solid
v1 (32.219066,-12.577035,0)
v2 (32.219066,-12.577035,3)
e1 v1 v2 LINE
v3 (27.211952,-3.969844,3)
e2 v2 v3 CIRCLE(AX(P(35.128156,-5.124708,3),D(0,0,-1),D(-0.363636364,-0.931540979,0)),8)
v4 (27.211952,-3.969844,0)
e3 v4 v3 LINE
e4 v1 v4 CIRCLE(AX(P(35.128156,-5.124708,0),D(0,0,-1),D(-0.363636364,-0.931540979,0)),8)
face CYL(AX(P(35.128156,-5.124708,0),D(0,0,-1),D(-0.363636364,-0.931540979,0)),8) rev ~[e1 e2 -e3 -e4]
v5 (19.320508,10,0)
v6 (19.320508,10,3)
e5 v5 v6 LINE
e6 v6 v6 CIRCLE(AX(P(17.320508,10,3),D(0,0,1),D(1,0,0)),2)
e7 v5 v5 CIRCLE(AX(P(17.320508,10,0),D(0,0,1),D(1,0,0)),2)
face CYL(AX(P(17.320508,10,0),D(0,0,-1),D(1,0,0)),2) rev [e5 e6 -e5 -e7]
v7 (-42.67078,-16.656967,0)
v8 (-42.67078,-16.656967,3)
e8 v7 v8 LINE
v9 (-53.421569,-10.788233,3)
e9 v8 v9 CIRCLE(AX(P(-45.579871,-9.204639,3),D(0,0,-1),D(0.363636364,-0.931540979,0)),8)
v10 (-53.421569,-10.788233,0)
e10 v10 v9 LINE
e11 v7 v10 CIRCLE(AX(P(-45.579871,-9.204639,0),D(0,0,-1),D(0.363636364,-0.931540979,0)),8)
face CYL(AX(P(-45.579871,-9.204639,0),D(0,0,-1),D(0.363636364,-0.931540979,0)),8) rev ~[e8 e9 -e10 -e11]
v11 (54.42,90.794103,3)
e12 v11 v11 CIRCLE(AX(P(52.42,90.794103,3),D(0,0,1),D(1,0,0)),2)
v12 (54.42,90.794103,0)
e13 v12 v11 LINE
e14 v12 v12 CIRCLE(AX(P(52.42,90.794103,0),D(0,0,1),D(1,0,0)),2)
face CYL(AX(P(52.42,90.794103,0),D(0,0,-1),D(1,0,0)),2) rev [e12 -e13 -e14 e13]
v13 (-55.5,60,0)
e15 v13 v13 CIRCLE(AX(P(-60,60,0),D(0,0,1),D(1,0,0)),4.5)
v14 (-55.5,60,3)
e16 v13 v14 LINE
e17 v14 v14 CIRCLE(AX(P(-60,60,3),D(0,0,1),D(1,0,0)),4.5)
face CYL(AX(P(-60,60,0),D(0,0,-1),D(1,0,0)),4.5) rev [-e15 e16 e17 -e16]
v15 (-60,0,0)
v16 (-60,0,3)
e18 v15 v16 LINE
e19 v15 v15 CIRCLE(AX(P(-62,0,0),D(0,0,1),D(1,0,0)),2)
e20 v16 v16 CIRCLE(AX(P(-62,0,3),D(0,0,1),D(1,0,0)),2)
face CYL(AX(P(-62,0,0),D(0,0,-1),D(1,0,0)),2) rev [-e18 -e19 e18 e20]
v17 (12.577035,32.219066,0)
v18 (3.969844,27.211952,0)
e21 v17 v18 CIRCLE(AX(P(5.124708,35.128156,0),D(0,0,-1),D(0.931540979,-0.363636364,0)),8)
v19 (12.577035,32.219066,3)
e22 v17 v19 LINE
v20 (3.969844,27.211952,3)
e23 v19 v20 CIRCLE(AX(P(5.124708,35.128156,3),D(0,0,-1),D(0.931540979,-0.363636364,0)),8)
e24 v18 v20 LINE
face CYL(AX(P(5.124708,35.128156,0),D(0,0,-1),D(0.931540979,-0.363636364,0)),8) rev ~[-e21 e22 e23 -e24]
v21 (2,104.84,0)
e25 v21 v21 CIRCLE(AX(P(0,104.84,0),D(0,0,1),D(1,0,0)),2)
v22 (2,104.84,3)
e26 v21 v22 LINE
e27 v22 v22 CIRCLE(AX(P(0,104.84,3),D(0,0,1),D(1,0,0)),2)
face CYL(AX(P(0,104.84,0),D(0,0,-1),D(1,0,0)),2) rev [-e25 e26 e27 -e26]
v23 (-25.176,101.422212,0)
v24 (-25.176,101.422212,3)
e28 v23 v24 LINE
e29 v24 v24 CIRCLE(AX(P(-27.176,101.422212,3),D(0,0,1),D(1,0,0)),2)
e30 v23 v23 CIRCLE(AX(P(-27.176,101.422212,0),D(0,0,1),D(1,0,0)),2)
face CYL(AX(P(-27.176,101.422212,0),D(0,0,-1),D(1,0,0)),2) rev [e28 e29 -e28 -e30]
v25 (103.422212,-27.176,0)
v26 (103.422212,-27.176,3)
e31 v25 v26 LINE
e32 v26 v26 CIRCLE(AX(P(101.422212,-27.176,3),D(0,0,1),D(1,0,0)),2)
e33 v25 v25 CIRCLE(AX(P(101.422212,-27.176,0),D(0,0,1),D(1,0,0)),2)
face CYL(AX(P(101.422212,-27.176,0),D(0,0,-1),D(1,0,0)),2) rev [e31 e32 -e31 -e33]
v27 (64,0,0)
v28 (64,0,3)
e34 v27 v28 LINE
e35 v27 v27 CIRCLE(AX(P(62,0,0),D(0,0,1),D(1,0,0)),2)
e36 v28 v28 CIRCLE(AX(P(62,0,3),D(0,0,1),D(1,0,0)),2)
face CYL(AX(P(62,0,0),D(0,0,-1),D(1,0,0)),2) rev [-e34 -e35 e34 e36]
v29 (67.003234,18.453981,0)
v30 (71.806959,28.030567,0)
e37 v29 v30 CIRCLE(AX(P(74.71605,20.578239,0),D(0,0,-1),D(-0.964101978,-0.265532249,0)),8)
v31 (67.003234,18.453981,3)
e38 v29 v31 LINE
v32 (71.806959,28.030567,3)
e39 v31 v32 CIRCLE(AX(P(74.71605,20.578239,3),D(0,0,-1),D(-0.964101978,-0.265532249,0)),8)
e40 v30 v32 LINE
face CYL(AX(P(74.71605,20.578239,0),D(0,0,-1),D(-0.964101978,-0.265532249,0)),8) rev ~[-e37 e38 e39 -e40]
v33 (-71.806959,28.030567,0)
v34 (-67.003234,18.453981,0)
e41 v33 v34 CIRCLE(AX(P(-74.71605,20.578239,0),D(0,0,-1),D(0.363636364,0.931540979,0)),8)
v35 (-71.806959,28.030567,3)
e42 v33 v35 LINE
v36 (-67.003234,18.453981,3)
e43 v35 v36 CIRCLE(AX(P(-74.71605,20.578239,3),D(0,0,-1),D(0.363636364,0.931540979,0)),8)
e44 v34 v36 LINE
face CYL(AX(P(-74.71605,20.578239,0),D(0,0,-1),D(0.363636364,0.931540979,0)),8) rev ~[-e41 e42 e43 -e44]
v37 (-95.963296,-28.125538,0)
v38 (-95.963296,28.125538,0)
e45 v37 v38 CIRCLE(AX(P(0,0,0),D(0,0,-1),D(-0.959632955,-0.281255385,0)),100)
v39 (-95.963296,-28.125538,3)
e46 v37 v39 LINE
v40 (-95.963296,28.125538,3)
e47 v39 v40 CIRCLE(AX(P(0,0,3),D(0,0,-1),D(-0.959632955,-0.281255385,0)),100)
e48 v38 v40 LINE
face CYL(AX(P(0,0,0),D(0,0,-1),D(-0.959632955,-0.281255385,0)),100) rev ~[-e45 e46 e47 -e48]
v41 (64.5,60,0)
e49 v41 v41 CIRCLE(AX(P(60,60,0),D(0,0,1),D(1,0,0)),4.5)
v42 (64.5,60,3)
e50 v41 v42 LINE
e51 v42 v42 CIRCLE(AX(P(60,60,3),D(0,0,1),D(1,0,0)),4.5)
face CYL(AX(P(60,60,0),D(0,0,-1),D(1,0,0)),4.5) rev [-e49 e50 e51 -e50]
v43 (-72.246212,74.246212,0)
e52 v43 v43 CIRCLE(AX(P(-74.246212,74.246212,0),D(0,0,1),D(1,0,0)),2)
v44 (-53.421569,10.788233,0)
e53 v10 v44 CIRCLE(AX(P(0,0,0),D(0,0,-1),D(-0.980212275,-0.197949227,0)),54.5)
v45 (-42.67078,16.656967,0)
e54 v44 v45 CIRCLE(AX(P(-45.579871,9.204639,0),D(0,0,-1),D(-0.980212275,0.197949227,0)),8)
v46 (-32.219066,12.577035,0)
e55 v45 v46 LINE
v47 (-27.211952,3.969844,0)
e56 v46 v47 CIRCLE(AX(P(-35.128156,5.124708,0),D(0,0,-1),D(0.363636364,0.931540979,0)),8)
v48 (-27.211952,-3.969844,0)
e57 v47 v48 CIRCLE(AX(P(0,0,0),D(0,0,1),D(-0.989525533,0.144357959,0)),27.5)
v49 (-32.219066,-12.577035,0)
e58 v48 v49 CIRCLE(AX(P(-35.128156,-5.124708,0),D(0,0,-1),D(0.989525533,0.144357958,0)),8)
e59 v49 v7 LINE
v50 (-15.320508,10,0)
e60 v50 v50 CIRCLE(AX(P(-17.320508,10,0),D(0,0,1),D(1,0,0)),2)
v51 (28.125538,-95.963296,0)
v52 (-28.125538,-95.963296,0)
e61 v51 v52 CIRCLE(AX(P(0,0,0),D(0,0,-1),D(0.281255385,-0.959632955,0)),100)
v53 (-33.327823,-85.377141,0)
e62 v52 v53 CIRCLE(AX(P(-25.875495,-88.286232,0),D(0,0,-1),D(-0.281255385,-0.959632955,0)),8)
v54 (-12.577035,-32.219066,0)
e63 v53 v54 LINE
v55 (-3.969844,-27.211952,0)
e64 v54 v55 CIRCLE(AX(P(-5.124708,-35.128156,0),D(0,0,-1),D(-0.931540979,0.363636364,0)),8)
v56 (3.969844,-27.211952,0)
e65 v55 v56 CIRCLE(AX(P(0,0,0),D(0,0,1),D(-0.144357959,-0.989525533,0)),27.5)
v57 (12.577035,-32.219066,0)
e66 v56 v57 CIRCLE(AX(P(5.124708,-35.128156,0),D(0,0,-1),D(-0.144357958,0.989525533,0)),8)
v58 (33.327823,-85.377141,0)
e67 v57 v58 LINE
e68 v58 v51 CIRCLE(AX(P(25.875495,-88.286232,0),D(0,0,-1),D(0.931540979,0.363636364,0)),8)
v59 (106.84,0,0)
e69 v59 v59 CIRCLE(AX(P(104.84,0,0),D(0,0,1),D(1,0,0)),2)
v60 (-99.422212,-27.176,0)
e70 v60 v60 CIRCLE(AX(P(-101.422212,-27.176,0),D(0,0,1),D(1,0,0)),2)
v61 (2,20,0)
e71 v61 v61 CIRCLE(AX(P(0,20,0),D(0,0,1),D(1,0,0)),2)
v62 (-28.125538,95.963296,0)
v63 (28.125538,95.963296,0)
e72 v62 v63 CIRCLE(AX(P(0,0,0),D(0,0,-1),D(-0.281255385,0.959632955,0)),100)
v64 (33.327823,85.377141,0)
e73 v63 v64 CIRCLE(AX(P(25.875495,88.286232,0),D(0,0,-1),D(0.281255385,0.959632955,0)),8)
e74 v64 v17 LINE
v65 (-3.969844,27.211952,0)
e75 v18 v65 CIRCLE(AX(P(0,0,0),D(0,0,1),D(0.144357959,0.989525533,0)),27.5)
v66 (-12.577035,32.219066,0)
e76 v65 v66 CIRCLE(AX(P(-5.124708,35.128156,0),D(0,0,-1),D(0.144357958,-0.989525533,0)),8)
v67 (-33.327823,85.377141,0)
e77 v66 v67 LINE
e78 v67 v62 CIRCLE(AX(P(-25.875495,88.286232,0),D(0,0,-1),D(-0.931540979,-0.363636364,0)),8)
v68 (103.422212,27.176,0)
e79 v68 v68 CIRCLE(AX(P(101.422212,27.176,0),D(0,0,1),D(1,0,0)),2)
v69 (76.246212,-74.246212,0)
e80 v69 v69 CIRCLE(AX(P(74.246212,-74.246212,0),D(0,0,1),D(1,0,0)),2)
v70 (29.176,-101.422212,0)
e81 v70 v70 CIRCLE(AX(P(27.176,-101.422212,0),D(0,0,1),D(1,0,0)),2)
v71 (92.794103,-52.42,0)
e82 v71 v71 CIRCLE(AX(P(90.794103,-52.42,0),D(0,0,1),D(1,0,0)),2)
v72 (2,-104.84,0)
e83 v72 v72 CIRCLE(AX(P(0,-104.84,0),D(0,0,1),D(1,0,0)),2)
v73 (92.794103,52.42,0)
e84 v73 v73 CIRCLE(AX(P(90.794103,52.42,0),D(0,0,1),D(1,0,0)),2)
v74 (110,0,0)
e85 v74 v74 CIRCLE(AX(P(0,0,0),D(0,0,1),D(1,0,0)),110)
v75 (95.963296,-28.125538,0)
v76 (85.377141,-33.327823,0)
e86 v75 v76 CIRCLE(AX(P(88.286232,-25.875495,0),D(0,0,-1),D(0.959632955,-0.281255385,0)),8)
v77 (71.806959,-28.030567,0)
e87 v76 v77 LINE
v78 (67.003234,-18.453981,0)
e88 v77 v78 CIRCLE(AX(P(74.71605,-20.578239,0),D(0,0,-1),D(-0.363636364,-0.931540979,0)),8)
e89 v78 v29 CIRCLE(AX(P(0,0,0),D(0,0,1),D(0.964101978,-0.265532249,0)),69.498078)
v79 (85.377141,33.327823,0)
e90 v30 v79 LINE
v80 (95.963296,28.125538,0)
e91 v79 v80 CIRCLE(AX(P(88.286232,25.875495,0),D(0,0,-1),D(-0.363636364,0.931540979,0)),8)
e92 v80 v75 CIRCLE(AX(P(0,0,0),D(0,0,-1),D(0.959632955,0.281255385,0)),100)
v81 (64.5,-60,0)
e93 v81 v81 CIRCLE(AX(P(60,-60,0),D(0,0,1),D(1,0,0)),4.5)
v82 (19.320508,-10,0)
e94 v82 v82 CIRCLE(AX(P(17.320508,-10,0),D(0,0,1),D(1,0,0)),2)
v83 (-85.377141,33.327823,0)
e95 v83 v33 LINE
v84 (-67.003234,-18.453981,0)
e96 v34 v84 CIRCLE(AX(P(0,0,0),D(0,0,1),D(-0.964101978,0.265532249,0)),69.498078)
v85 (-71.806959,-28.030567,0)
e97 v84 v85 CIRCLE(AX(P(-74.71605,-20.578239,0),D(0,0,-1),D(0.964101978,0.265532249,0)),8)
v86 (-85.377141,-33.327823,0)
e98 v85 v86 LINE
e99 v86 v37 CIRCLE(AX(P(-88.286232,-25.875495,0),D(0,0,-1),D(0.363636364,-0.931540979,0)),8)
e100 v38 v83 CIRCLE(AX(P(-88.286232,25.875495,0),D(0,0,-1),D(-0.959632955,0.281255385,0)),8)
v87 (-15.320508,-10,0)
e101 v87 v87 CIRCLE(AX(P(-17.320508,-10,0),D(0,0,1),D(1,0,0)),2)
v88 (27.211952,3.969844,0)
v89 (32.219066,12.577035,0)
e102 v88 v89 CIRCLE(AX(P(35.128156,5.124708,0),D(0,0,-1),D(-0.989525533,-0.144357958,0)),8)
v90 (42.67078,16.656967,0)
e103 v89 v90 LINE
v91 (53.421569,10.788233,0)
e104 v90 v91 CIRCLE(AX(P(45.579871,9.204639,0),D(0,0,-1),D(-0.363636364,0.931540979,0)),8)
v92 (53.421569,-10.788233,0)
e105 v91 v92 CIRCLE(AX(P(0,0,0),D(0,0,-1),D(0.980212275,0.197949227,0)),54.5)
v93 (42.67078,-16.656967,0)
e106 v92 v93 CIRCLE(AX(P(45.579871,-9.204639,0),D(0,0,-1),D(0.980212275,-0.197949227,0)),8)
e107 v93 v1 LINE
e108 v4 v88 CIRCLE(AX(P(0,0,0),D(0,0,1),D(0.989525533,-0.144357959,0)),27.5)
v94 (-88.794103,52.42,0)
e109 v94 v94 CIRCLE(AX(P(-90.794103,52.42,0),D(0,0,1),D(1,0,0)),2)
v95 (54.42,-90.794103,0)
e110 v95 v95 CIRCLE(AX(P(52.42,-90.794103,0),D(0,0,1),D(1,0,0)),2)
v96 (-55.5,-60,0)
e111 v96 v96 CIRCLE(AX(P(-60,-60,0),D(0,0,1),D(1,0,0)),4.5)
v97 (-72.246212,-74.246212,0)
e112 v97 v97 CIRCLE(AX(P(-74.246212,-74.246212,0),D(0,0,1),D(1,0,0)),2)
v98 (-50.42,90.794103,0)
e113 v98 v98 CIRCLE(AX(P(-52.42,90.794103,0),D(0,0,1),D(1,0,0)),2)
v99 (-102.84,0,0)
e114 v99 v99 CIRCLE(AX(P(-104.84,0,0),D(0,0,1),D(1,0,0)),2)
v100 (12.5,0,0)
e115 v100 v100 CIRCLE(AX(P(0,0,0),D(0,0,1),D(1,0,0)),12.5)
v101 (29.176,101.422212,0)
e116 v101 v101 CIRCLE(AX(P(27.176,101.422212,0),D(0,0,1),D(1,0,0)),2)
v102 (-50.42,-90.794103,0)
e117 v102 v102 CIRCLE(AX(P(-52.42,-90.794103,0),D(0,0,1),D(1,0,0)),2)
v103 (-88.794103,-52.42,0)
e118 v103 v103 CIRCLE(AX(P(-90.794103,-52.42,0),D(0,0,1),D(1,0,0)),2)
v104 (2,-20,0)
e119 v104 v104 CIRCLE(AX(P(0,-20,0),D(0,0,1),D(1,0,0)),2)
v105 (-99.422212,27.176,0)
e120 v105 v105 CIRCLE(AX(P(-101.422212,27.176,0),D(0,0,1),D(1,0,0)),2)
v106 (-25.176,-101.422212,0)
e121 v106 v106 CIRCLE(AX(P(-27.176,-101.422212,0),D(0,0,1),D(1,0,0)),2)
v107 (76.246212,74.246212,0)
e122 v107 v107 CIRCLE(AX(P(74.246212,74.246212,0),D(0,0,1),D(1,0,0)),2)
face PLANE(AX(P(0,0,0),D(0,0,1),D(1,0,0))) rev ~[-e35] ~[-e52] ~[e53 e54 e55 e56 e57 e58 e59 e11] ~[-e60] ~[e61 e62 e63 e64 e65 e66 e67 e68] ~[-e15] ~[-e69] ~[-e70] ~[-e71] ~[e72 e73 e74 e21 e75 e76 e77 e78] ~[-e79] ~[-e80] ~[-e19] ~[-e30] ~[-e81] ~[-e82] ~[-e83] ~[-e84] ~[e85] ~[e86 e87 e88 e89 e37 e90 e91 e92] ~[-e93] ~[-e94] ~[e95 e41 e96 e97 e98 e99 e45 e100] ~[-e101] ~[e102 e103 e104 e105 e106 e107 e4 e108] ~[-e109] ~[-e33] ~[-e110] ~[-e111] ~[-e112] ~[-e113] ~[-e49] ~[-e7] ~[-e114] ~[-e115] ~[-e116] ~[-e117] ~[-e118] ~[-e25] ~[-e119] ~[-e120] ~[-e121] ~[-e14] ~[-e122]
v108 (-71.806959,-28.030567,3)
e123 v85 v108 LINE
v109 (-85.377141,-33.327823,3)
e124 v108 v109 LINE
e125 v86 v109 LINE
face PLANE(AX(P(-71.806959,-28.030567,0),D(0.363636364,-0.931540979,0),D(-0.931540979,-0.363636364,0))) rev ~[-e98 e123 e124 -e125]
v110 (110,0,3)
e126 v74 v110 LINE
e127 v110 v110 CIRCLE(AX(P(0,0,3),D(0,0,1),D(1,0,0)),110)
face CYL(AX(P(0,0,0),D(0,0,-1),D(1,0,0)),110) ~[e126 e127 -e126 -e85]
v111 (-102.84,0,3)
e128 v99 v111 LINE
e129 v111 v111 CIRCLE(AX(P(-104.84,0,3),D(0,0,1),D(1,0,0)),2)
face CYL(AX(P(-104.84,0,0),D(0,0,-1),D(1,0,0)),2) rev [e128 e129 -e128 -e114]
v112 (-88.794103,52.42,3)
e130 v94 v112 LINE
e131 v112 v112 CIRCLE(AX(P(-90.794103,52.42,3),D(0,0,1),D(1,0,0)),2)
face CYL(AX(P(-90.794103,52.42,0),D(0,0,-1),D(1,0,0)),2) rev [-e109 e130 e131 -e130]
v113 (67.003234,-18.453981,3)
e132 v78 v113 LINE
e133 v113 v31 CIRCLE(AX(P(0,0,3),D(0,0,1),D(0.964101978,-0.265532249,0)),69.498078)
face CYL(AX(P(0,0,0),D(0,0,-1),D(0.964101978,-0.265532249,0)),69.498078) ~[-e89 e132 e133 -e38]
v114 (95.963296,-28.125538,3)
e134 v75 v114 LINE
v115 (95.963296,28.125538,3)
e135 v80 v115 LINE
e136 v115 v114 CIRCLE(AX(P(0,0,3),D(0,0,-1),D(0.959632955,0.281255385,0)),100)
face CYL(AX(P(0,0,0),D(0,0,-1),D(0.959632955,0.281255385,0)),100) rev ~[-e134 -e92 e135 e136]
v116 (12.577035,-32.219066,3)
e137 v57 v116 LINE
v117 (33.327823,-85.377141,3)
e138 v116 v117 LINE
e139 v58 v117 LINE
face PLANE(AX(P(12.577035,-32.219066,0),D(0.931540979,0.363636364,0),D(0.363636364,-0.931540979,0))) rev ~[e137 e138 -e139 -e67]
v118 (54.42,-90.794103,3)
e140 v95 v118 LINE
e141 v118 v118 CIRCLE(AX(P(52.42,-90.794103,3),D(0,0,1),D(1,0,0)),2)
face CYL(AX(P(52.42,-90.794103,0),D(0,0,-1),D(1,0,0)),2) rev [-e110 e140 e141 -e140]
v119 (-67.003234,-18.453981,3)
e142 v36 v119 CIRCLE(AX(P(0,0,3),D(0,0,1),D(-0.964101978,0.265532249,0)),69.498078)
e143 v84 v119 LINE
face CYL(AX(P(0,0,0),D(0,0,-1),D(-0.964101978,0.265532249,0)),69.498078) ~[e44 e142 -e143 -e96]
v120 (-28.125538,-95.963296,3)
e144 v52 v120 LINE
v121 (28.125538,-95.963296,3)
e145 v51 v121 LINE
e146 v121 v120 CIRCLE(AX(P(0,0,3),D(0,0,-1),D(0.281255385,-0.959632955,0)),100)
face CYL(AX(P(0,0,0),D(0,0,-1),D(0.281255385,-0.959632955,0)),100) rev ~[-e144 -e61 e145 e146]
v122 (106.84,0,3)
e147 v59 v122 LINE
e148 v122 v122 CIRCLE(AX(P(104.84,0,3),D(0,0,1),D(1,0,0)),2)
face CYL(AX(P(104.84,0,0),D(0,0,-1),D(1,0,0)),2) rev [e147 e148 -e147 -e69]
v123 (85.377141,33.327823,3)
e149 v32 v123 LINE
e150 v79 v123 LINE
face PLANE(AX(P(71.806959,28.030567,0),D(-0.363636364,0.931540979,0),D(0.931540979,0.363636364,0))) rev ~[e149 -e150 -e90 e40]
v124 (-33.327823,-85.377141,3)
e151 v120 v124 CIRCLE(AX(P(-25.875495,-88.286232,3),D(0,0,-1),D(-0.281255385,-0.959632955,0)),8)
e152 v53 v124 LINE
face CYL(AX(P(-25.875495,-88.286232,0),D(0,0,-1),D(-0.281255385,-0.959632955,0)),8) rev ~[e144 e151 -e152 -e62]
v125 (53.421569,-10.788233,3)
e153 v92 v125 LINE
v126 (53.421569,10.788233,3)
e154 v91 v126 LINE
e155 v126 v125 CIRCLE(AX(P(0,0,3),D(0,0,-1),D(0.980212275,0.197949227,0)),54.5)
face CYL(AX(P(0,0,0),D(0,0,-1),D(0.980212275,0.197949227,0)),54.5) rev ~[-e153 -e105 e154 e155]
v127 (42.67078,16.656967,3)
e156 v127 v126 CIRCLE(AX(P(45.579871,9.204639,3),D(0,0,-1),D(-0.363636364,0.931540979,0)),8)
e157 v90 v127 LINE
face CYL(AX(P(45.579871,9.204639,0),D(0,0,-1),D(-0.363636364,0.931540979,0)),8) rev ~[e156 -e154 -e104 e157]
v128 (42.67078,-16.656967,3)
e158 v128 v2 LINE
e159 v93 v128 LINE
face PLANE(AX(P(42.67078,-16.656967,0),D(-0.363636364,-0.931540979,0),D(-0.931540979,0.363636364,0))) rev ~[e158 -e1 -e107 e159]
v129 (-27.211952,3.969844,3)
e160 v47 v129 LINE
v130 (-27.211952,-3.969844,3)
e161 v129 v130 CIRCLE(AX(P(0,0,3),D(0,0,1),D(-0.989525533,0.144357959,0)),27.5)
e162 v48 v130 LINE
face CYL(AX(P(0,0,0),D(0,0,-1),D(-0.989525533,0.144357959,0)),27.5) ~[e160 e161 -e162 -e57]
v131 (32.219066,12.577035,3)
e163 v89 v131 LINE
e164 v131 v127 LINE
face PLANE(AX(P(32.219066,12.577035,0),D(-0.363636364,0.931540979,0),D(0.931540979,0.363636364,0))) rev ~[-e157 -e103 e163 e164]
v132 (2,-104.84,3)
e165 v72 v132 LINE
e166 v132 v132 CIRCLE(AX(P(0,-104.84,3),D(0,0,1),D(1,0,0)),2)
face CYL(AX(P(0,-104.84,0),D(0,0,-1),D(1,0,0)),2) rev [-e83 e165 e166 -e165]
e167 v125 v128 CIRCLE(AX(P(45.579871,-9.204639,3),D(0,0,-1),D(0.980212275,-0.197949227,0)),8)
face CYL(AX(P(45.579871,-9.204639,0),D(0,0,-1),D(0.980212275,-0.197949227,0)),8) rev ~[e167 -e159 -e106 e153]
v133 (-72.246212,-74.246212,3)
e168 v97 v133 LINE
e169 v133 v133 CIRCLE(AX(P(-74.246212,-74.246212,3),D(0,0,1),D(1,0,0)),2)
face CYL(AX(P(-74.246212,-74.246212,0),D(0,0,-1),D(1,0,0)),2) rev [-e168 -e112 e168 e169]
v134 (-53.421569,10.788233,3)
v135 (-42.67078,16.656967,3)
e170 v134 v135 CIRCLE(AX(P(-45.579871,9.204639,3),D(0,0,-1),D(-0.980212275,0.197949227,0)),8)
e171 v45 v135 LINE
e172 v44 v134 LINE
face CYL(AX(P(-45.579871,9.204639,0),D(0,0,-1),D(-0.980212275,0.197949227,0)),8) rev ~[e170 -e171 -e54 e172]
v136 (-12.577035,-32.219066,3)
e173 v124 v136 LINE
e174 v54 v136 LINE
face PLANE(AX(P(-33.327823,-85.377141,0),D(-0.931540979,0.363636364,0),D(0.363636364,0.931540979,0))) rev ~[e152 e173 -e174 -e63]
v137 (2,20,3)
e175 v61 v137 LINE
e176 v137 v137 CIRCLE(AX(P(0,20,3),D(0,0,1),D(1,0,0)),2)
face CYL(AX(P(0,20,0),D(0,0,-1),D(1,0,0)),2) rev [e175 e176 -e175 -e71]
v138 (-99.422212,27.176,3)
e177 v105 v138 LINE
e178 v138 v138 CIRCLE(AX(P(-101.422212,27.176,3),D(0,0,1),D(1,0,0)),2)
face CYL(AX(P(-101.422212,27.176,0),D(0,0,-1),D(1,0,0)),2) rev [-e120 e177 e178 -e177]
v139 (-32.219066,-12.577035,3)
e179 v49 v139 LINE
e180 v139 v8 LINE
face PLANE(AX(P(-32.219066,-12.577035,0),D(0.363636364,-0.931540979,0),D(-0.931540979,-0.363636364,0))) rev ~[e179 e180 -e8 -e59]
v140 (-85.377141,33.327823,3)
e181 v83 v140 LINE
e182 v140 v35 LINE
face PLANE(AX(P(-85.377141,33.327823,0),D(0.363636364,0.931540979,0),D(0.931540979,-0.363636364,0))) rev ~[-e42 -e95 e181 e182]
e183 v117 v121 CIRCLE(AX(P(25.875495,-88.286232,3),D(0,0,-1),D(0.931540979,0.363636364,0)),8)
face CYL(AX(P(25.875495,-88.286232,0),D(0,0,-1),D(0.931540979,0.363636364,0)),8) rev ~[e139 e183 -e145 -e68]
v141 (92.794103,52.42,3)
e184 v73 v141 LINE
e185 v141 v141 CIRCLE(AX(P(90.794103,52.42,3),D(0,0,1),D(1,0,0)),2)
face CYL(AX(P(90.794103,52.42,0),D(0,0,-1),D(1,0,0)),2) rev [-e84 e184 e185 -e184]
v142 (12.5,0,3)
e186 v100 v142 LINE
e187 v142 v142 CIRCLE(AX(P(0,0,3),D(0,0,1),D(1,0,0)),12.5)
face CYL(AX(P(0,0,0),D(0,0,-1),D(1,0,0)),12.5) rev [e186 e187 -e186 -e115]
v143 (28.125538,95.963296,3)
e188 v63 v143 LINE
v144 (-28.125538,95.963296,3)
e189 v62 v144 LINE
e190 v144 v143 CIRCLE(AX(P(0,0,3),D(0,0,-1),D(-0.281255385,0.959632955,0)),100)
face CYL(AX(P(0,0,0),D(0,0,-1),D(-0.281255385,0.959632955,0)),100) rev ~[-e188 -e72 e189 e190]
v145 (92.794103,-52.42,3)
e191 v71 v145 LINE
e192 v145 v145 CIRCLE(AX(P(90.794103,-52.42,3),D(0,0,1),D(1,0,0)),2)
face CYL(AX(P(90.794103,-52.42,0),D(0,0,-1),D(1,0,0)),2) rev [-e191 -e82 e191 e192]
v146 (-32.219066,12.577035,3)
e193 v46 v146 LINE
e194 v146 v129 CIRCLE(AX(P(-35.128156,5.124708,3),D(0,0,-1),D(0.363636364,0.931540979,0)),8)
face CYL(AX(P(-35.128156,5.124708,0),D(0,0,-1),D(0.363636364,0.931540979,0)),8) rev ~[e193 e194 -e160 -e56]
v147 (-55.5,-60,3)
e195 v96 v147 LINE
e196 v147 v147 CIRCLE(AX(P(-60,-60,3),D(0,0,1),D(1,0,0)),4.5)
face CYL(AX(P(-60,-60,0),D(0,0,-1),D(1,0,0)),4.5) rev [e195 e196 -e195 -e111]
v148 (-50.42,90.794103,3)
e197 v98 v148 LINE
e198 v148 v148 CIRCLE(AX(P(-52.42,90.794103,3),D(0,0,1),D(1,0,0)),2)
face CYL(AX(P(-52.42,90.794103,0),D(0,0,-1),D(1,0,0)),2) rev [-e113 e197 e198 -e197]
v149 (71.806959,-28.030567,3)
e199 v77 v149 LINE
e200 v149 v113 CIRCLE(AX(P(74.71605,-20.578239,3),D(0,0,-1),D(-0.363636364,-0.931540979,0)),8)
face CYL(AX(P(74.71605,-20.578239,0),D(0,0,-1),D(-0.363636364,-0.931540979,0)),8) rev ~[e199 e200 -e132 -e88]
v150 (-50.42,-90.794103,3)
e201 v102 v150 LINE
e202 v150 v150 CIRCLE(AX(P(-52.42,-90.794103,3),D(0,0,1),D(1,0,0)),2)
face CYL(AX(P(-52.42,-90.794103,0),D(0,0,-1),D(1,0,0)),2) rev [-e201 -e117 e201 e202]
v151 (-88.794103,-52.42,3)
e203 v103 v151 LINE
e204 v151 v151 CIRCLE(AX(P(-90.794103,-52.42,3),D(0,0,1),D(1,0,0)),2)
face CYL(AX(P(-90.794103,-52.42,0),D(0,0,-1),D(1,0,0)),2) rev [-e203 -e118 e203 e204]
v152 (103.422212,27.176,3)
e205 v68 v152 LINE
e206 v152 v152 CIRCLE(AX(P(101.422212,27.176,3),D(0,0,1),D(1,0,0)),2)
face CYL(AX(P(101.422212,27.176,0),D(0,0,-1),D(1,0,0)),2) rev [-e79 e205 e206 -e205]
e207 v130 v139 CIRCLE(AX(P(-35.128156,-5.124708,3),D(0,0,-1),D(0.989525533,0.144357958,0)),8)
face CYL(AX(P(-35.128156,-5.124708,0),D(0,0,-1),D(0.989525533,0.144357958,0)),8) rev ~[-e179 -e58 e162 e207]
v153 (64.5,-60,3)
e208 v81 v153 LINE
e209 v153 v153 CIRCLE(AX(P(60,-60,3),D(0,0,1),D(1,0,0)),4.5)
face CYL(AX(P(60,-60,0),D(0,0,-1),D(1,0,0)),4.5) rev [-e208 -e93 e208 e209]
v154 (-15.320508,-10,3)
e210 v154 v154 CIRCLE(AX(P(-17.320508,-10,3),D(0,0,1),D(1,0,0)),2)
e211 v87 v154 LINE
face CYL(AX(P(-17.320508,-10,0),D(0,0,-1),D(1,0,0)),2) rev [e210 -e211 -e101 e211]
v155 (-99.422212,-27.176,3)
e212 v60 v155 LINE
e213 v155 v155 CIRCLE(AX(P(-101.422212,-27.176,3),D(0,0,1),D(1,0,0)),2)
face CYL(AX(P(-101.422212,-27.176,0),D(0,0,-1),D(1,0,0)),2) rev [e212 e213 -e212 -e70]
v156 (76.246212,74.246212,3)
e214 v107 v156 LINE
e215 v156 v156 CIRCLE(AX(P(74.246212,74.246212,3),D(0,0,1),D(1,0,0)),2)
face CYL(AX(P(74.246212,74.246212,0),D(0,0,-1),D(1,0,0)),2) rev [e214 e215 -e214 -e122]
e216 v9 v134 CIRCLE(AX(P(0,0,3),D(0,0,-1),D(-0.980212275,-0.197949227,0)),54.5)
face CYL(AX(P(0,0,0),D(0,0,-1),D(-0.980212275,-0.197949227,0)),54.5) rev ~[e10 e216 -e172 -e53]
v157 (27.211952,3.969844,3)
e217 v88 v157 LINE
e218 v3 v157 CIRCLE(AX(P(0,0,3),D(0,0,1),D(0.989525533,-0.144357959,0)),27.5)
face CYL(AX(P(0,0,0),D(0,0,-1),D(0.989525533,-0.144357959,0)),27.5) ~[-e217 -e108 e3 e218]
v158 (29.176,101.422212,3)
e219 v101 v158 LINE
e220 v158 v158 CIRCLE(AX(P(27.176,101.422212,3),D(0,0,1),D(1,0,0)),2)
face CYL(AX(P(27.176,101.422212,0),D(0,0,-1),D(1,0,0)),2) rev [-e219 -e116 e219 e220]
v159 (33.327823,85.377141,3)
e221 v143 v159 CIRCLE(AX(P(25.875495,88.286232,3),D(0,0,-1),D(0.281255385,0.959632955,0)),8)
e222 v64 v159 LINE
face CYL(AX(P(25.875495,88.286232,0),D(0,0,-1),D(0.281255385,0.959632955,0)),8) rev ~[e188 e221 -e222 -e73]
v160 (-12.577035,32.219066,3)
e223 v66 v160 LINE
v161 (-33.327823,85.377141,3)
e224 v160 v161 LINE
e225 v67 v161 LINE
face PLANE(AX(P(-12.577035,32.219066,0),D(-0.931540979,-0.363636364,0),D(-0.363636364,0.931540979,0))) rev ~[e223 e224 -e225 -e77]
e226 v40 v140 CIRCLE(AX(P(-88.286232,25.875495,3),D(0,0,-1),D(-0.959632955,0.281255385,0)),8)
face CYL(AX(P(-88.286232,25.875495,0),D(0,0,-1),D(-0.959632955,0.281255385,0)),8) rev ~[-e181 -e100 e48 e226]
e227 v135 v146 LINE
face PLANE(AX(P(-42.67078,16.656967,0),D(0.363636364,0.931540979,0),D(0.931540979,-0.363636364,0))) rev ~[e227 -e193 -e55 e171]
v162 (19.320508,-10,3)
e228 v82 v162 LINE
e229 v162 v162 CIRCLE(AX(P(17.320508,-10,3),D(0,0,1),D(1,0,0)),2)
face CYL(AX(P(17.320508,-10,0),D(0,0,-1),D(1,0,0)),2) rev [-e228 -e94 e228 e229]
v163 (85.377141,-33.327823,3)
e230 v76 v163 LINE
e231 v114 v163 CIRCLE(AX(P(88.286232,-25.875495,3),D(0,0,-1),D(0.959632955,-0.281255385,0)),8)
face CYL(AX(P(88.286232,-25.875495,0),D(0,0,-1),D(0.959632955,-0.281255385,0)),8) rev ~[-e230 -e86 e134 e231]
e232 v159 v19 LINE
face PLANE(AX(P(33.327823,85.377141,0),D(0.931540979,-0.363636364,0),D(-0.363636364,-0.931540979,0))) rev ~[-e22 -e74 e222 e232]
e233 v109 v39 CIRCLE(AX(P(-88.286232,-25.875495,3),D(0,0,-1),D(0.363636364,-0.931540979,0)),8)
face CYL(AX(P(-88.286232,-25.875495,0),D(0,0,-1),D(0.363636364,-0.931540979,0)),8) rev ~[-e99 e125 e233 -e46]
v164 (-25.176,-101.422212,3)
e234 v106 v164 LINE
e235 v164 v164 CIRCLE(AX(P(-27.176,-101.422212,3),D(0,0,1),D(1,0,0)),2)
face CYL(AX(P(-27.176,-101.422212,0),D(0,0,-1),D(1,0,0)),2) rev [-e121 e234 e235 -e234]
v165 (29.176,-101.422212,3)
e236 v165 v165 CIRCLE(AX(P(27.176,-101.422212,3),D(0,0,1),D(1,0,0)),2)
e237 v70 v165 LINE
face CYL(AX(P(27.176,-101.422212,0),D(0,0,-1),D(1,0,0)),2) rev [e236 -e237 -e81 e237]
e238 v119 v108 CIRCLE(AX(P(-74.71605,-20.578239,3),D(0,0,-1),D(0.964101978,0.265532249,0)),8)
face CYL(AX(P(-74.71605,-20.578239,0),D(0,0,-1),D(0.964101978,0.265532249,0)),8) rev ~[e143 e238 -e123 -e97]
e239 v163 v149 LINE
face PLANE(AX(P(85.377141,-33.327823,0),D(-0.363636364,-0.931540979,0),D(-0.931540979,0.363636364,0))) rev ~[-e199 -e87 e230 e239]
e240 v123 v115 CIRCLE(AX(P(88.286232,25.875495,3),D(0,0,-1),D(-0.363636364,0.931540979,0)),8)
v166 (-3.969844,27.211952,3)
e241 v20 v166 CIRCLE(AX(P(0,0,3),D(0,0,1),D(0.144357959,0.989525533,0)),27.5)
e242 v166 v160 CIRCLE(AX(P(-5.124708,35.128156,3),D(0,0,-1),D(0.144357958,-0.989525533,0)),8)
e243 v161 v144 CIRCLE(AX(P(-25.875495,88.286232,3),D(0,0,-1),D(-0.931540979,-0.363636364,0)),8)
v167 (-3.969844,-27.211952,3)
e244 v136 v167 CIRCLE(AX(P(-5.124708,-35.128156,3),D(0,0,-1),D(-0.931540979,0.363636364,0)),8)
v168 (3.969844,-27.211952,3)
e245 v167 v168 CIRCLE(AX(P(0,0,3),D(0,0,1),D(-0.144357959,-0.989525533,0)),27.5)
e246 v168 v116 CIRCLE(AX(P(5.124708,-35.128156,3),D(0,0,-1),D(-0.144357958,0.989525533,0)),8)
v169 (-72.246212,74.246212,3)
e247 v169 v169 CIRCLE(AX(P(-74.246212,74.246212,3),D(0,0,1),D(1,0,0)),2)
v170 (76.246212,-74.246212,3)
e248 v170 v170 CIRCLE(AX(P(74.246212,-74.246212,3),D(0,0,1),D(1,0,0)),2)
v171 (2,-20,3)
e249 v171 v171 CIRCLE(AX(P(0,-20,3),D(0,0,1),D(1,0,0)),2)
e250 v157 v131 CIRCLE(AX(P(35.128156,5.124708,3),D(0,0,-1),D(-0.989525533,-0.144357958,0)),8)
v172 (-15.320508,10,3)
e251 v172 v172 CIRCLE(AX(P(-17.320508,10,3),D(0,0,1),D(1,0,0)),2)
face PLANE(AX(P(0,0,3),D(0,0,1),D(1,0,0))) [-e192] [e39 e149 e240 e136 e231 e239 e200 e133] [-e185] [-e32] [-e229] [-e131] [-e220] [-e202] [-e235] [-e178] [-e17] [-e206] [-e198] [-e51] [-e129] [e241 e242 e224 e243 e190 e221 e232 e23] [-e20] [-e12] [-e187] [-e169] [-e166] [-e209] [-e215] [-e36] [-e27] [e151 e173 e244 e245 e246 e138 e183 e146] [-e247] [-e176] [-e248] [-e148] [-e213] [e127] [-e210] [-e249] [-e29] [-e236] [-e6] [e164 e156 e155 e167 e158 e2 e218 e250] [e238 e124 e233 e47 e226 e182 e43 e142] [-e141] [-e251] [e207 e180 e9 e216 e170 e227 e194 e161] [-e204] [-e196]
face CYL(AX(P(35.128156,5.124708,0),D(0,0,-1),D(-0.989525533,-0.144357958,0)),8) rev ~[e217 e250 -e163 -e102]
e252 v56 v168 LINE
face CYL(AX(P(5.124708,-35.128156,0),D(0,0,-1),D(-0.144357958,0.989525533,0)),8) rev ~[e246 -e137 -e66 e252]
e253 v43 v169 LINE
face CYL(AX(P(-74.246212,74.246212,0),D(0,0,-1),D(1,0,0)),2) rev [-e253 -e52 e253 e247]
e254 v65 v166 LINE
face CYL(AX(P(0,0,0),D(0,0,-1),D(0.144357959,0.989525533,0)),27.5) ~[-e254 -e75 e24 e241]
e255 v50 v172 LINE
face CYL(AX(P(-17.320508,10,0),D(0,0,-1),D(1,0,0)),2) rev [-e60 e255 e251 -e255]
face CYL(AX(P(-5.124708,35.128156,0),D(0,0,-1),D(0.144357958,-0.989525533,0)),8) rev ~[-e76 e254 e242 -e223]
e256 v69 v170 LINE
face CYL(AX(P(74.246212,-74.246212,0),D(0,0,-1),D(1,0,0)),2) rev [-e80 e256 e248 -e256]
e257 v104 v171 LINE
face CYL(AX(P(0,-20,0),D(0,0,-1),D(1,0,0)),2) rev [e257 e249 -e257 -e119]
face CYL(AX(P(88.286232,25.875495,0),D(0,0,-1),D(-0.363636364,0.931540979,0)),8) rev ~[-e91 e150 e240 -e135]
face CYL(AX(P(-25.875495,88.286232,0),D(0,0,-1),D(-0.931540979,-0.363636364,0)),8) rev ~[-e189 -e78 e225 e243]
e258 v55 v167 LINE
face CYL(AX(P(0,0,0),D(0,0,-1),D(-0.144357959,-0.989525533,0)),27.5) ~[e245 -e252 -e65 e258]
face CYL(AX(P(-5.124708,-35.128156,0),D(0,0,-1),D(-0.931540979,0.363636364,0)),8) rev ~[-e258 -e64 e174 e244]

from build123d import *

# Parameters (mm, degrees)
SKETCH_1_R      = 110
SKETCH_1_R_2    = 2
SKETCH_1_R_3    = 4.5
SKETCH_1_R_4    = 12.5
EXTRUDE_1_DEPTH = 3


with BuildPart() as part:
    # 草图1 → 凸台-拉伸1 (new body)
    with BuildSketch(Plane.XY):
        Circle(SKETCH_1_R)
        with Locations((-74.246212025, -74.246212025)):
            Circle(SKETCH_1_R_2, mode=Mode.SUBTRACT)
        with Locations((-60, -60)):
            Circle(SKETCH_1_R_3, mode=Mode.SUBTRACT)
        with Locations((-52.42, -90.794103333)):
            Circle(SKETCH_1_R_2, mode=Mode.SUBTRACT)
        with Locations((-27.175999736, -101.42221176)):
            Circle(SKETCH_1_R_2, mode=Mode.SUBTRACT)
        with Locations((-90.794103333, -52.42)):
            Circle(SKETCH_1_R_2, mode=Mode.SUBTRACT)
        with Locations((-101.42221176, -27.175999736)):
            Circle(SKETCH_1_R_2, mode=Mode.SUBTRACT)
        with Locations((-104.84, 0)):
            Circle(SKETCH_1_R_2, mode=Mode.SUBTRACT)
        with Locations((0, -20)):
            Circle(SKETCH_1_R_2, mode=Mode.SUBTRACT)
        with Locations((-17.320508076, -10)):
            Circle(SKETCH_1_R_2, mode=Mode.SUBTRACT)
        with Locations((0, -104.84)):
            Circle(SKETCH_1_R_2, mode=Mode.SUBTRACT)
        with Locations((27.175999736, -101.42221176)):
            Circle(SKETCH_1_R_2, mode=Mode.SUBTRACT)
        with Locations((52.42, -90.794103333)):
            Circle(SKETCH_1_R_2, mode=Mode.SUBTRACT)
        with BuildLine():
            ThreePointArc((3.969843853, -27.211952149), (9.14743169, -28.213122771), (12.577035349, -32.219065502))
            Line((12.577035349, -32.219065502), (33.327823236, -85.377140959))
            ThreePointArc((33.327823236, -85.377140959), (33.055374747, -91.814593053), (28.125538485, -95.963295509))
            ThreePointArc((28.125538485, -95.963295509), (0, -100), (-28.125538485, -95.963295509))
            ThreePointArc((-28.125538485, -95.963295509), (-33.055374747, -91.814593053), (-33.327823236, -85.377140959))
            Line((-33.327823236, -85.377140959), (-12.577035349, -32.219065502))
            ThreePointArc((-12.577035349, -32.219065502), (-9.14743169, -28.213122771), (-3.969843853, -27.211952149))
            ThreePointArc((-3.969843853, -27.211952149), (0, -27.5), (3.969843853, -27.211952149))
        make_face(mode=Mode.SUBTRACT)
        with Locations((74.246212025, -74.246212025)):
            Circle(SKETCH_1_R_2, mode=Mode.SUBTRACT)
        with Locations((60, -60)):
            Circle(SKETCH_1_R_3, mode=Mode.SUBTRACT)
        with Locations((17.320508076, -10)):
            Circle(SKETCH_1_R_2, mode=Mode.SUBTRACT)
        with Locations((90.794103333, -52.42)):
            Circle(SKETCH_1_R_2, mode=Mode.SUBTRACT)
        with Locations((101.42221176, -27.175999736)):
            Circle(SKETCH_1_R_2, mode=Mode.SUBTRACT)
        with BuildLine():
            Line((-71.806959395, -28.030566765), (-85.377140959, -33.327823236))
            ThreePointArc((-85.377140959, -33.327823236), (-91.814593053, -33.055374747), (-95.963295509, -28.125538485))
            ThreePointArc((-95.963295509, -28.125538485), (-100, 0), (-95.963295509, 28.125538485))
            ThreePointArc((-95.963295509, 28.125538485), (-91.814593053, 33.055374747), (-85.377140959, 33.327823236))
            Line((-85.377140959, 33.327823236), (-71.806959395, 28.030566765))
            ThreePointArc((-71.806959395, 28.030566765), (-67.565247924, 24.16516315), (-67.003234476, 18.453980943))
            ThreePointArc((-67.003234476, 18.453980943), (-69.49807798, 0), (-67.003234476, -18.453980943))
            ThreePointArc((-67.003234476, -18.453980943), (-67.565247924, -24.16516315), (-71.806959395, -28.030566765))
        make_face(mode=Mode.SUBTRACT)
        with Locations((-101.42221176, 27.175999736)):
            Circle(SKETCH_1_R_2, mode=Mode.SUBTRACT)
        with Locations((-62, 0)):
            Circle(SKETCH_1_R_2, mode=Mode.SUBTRACT)
        with Locations((-90.794103333, 52.42)):
            Circle(SKETCH_1_R_2, mode=Mode.SUBTRACT)
        with BuildLine():
            ThreePointArc((-27.211952149, -3.969843853), (-28.213122771, -9.14743169), (-32.219065502, -12.577035349))
            Line((-32.219065502, -12.577035349), (-42.670779868, -16.656966874))
            ThreePointArc((-42.670779868, -16.656966874), (-49.413037015, -16.226521741), (-53.421568975, -10.788232859))
            ThreePointArc((-53.421568975, -10.788232859), (-54.5, 0), (-53.421568975, 10.788232859))
            ThreePointArc((-53.421568975, 10.788232859), (-49.413037015, 16.226521741), (-42.670779868, 16.656966874))
            Line((-42.670779868, 16.656966874), (-32.219065502, 12.577035349))
            ThreePointArc((-32.219065502, 12.577035349), (-28.213122771, 9.14743169), (-27.211952149, 3.969843853))
            ThreePointArc((-27.211952149, 3.969843853), (-27.5, 0), (-27.211952149, -3.969843853))
        make_face(mode=Mode.SUBTRACT)
        with Locations((-17.320508076, 10)):
            Circle(SKETCH_1_R_2, mode=Mode.SUBTRACT)
        with Locations((-60, 60)):
            Circle(SKETCH_1_R_3, mode=Mode.SUBTRACT)
        with Locations((-74.246212025, 74.246212025)):
            Circle(SKETCH_1_R_2, mode=Mode.SUBTRACT)
        with Locations((-52.42, 90.794103333)):
            Circle(SKETCH_1_R_2, mode=Mode.SUBTRACT)
        with Locations((-27.175999736, 101.42221176)):
            Circle(SKETCH_1_R_2, mode=Mode.SUBTRACT)
        Circle(SKETCH_1_R_4, mode=Mode.SUBTRACT)
        with Locations((17.320508076, 10)):
            Circle(SKETCH_1_R_2, mode=Mode.SUBTRACT)
        with Locations((0, 20)):
            Circle(SKETCH_1_R_2, mode=Mode.SUBTRACT)
        with BuildLine():
            ThreePointArc((27.211952149, 3.969843853), (28.213122771, 9.14743169), (32.219065502, 12.577035349))
            Line((32.219065502, 12.577035349), (42.670779868, 16.656966874))
            ThreePointArc((42.670779868, 16.656966874), (49.413037015, 16.226521741), (53.421568975, 10.788232859))
            ThreePointArc((53.421568975, 10.788232859), (54.5, 0), (53.421568975, -10.788232859))
            ThreePointArc((53.421568975, -10.788232859), (49.413037015, -16.226521741), (42.670779868, -16.656966874))
            Line((42.670779868, -16.656966874), (32.219065502, -12.577035349))
            ThreePointArc((32.219065502, -12.577035349), (28.213122771, -9.14743169), (27.211952149, -3.969843853))
            ThreePointArc((27.211952149, -3.969843853), (27.5, 0), (27.211952149, 3.969843853))
        make_face(mode=Mode.SUBTRACT)
        with Locations((62, 0)):
            Circle(SKETCH_1_R_2, mode=Mode.SUBTRACT)
        with BuildLine():
            ThreePointArc((95.963295509, -28.125538485), (91.814593053, -33.055374747), (85.377140959, -33.327823236))
            Line((85.377140959, -33.327823236), (71.806959395, -28.030566765))
            ThreePointArc((71.806959395, -28.030566765), (67.565247924, -24.16516315), (67.003234476, -18.453980943))
            ThreePointArc((67.003234476, -18.453980943), (69.49807798, 0), (67.003234476, 18.453980943))
            ThreePointArc((67.003234476, 18.453980943), (67.565247924, 24.16516315), (71.806959395, 28.030566765))
            Line((71.806959395, 28.030566765), (85.377140959, 33.327823236))
            ThreePointArc((85.377140959, 33.327823236), (91.814593053, 33.055374747), (95.963295509, 28.125538485))
            ThreePointArc((95.963295509, 28.125538485), (100, 0), (95.963295509, -28.125538485))
        make_face(mode=Mode.SUBTRACT)
        with Locations((104.84, 0)):
            Circle(SKETCH_1_R_2, mode=Mode.SUBTRACT)
        with Locations((101.42221176, 27.175999736)):
            Circle(SKETCH_1_R_2, mode=Mode.SUBTRACT)
        with Locations((90.794103333, 52.42)):
            Circle(SKETCH_1_R_2, mode=Mode.SUBTRACT)
        with BuildLine():
            Line((33.327823236, 85.377140959), (12.577035349, 32.219065502))
            ThreePointArc((12.577035349, 32.219065502), (9.14743169, 28.213122771), (3.969843853, 27.211952149))
            ThreePointArc((3.969843853, 27.211952149), (0, 27.5), (-3.969843853, 27.211952149))
            ThreePointArc((-3.969843853, 27.211952149), (-9.14743169, 28.213122771), (-12.577035349, 32.219065502))
            Line((-12.577035349, 32.219065502), (-33.327823236, 85.377140959))
            ThreePointArc((-33.327823236, 85.377140959), (-33.055374747, 91.814593053), (-28.125538485, 95.963295509))
            ThreePointArc((-28.125538485, 95.963295509), (0, 100), (28.125538485, 95.963295509))
            ThreePointArc((28.125538485, 95.963295509), (33.055374747, 91.814593053), (33.327823236, 85.377140959))
        make_face(mode=Mode.SUBTRACT)
        with Locations((0, 104.84)):
            Circle(SKETCH_1_R_2, mode=Mode.SUBTRACT)
        with Locations((27.175999736, 101.42221176)):
            Circle(SKETCH_1_R_2, mode=Mode.SUBTRACT)
        with Locations((52.42, 90.794103333)):
            Circle(SKETCH_1_R_2, mode=Mode.SUBTRACT)
        with Locations((60, 60)):
            Circle(SKETCH_1_R_3, mode=Mode.SUBTRACT)
        with Locations((74.246212025, 74.246212025)):
            Circle(SKETCH_1_R_2, mode=Mode.SUBTRACT)
    extrude(amount=EXTRUDE_1_DEPTH)


solid = part.part
